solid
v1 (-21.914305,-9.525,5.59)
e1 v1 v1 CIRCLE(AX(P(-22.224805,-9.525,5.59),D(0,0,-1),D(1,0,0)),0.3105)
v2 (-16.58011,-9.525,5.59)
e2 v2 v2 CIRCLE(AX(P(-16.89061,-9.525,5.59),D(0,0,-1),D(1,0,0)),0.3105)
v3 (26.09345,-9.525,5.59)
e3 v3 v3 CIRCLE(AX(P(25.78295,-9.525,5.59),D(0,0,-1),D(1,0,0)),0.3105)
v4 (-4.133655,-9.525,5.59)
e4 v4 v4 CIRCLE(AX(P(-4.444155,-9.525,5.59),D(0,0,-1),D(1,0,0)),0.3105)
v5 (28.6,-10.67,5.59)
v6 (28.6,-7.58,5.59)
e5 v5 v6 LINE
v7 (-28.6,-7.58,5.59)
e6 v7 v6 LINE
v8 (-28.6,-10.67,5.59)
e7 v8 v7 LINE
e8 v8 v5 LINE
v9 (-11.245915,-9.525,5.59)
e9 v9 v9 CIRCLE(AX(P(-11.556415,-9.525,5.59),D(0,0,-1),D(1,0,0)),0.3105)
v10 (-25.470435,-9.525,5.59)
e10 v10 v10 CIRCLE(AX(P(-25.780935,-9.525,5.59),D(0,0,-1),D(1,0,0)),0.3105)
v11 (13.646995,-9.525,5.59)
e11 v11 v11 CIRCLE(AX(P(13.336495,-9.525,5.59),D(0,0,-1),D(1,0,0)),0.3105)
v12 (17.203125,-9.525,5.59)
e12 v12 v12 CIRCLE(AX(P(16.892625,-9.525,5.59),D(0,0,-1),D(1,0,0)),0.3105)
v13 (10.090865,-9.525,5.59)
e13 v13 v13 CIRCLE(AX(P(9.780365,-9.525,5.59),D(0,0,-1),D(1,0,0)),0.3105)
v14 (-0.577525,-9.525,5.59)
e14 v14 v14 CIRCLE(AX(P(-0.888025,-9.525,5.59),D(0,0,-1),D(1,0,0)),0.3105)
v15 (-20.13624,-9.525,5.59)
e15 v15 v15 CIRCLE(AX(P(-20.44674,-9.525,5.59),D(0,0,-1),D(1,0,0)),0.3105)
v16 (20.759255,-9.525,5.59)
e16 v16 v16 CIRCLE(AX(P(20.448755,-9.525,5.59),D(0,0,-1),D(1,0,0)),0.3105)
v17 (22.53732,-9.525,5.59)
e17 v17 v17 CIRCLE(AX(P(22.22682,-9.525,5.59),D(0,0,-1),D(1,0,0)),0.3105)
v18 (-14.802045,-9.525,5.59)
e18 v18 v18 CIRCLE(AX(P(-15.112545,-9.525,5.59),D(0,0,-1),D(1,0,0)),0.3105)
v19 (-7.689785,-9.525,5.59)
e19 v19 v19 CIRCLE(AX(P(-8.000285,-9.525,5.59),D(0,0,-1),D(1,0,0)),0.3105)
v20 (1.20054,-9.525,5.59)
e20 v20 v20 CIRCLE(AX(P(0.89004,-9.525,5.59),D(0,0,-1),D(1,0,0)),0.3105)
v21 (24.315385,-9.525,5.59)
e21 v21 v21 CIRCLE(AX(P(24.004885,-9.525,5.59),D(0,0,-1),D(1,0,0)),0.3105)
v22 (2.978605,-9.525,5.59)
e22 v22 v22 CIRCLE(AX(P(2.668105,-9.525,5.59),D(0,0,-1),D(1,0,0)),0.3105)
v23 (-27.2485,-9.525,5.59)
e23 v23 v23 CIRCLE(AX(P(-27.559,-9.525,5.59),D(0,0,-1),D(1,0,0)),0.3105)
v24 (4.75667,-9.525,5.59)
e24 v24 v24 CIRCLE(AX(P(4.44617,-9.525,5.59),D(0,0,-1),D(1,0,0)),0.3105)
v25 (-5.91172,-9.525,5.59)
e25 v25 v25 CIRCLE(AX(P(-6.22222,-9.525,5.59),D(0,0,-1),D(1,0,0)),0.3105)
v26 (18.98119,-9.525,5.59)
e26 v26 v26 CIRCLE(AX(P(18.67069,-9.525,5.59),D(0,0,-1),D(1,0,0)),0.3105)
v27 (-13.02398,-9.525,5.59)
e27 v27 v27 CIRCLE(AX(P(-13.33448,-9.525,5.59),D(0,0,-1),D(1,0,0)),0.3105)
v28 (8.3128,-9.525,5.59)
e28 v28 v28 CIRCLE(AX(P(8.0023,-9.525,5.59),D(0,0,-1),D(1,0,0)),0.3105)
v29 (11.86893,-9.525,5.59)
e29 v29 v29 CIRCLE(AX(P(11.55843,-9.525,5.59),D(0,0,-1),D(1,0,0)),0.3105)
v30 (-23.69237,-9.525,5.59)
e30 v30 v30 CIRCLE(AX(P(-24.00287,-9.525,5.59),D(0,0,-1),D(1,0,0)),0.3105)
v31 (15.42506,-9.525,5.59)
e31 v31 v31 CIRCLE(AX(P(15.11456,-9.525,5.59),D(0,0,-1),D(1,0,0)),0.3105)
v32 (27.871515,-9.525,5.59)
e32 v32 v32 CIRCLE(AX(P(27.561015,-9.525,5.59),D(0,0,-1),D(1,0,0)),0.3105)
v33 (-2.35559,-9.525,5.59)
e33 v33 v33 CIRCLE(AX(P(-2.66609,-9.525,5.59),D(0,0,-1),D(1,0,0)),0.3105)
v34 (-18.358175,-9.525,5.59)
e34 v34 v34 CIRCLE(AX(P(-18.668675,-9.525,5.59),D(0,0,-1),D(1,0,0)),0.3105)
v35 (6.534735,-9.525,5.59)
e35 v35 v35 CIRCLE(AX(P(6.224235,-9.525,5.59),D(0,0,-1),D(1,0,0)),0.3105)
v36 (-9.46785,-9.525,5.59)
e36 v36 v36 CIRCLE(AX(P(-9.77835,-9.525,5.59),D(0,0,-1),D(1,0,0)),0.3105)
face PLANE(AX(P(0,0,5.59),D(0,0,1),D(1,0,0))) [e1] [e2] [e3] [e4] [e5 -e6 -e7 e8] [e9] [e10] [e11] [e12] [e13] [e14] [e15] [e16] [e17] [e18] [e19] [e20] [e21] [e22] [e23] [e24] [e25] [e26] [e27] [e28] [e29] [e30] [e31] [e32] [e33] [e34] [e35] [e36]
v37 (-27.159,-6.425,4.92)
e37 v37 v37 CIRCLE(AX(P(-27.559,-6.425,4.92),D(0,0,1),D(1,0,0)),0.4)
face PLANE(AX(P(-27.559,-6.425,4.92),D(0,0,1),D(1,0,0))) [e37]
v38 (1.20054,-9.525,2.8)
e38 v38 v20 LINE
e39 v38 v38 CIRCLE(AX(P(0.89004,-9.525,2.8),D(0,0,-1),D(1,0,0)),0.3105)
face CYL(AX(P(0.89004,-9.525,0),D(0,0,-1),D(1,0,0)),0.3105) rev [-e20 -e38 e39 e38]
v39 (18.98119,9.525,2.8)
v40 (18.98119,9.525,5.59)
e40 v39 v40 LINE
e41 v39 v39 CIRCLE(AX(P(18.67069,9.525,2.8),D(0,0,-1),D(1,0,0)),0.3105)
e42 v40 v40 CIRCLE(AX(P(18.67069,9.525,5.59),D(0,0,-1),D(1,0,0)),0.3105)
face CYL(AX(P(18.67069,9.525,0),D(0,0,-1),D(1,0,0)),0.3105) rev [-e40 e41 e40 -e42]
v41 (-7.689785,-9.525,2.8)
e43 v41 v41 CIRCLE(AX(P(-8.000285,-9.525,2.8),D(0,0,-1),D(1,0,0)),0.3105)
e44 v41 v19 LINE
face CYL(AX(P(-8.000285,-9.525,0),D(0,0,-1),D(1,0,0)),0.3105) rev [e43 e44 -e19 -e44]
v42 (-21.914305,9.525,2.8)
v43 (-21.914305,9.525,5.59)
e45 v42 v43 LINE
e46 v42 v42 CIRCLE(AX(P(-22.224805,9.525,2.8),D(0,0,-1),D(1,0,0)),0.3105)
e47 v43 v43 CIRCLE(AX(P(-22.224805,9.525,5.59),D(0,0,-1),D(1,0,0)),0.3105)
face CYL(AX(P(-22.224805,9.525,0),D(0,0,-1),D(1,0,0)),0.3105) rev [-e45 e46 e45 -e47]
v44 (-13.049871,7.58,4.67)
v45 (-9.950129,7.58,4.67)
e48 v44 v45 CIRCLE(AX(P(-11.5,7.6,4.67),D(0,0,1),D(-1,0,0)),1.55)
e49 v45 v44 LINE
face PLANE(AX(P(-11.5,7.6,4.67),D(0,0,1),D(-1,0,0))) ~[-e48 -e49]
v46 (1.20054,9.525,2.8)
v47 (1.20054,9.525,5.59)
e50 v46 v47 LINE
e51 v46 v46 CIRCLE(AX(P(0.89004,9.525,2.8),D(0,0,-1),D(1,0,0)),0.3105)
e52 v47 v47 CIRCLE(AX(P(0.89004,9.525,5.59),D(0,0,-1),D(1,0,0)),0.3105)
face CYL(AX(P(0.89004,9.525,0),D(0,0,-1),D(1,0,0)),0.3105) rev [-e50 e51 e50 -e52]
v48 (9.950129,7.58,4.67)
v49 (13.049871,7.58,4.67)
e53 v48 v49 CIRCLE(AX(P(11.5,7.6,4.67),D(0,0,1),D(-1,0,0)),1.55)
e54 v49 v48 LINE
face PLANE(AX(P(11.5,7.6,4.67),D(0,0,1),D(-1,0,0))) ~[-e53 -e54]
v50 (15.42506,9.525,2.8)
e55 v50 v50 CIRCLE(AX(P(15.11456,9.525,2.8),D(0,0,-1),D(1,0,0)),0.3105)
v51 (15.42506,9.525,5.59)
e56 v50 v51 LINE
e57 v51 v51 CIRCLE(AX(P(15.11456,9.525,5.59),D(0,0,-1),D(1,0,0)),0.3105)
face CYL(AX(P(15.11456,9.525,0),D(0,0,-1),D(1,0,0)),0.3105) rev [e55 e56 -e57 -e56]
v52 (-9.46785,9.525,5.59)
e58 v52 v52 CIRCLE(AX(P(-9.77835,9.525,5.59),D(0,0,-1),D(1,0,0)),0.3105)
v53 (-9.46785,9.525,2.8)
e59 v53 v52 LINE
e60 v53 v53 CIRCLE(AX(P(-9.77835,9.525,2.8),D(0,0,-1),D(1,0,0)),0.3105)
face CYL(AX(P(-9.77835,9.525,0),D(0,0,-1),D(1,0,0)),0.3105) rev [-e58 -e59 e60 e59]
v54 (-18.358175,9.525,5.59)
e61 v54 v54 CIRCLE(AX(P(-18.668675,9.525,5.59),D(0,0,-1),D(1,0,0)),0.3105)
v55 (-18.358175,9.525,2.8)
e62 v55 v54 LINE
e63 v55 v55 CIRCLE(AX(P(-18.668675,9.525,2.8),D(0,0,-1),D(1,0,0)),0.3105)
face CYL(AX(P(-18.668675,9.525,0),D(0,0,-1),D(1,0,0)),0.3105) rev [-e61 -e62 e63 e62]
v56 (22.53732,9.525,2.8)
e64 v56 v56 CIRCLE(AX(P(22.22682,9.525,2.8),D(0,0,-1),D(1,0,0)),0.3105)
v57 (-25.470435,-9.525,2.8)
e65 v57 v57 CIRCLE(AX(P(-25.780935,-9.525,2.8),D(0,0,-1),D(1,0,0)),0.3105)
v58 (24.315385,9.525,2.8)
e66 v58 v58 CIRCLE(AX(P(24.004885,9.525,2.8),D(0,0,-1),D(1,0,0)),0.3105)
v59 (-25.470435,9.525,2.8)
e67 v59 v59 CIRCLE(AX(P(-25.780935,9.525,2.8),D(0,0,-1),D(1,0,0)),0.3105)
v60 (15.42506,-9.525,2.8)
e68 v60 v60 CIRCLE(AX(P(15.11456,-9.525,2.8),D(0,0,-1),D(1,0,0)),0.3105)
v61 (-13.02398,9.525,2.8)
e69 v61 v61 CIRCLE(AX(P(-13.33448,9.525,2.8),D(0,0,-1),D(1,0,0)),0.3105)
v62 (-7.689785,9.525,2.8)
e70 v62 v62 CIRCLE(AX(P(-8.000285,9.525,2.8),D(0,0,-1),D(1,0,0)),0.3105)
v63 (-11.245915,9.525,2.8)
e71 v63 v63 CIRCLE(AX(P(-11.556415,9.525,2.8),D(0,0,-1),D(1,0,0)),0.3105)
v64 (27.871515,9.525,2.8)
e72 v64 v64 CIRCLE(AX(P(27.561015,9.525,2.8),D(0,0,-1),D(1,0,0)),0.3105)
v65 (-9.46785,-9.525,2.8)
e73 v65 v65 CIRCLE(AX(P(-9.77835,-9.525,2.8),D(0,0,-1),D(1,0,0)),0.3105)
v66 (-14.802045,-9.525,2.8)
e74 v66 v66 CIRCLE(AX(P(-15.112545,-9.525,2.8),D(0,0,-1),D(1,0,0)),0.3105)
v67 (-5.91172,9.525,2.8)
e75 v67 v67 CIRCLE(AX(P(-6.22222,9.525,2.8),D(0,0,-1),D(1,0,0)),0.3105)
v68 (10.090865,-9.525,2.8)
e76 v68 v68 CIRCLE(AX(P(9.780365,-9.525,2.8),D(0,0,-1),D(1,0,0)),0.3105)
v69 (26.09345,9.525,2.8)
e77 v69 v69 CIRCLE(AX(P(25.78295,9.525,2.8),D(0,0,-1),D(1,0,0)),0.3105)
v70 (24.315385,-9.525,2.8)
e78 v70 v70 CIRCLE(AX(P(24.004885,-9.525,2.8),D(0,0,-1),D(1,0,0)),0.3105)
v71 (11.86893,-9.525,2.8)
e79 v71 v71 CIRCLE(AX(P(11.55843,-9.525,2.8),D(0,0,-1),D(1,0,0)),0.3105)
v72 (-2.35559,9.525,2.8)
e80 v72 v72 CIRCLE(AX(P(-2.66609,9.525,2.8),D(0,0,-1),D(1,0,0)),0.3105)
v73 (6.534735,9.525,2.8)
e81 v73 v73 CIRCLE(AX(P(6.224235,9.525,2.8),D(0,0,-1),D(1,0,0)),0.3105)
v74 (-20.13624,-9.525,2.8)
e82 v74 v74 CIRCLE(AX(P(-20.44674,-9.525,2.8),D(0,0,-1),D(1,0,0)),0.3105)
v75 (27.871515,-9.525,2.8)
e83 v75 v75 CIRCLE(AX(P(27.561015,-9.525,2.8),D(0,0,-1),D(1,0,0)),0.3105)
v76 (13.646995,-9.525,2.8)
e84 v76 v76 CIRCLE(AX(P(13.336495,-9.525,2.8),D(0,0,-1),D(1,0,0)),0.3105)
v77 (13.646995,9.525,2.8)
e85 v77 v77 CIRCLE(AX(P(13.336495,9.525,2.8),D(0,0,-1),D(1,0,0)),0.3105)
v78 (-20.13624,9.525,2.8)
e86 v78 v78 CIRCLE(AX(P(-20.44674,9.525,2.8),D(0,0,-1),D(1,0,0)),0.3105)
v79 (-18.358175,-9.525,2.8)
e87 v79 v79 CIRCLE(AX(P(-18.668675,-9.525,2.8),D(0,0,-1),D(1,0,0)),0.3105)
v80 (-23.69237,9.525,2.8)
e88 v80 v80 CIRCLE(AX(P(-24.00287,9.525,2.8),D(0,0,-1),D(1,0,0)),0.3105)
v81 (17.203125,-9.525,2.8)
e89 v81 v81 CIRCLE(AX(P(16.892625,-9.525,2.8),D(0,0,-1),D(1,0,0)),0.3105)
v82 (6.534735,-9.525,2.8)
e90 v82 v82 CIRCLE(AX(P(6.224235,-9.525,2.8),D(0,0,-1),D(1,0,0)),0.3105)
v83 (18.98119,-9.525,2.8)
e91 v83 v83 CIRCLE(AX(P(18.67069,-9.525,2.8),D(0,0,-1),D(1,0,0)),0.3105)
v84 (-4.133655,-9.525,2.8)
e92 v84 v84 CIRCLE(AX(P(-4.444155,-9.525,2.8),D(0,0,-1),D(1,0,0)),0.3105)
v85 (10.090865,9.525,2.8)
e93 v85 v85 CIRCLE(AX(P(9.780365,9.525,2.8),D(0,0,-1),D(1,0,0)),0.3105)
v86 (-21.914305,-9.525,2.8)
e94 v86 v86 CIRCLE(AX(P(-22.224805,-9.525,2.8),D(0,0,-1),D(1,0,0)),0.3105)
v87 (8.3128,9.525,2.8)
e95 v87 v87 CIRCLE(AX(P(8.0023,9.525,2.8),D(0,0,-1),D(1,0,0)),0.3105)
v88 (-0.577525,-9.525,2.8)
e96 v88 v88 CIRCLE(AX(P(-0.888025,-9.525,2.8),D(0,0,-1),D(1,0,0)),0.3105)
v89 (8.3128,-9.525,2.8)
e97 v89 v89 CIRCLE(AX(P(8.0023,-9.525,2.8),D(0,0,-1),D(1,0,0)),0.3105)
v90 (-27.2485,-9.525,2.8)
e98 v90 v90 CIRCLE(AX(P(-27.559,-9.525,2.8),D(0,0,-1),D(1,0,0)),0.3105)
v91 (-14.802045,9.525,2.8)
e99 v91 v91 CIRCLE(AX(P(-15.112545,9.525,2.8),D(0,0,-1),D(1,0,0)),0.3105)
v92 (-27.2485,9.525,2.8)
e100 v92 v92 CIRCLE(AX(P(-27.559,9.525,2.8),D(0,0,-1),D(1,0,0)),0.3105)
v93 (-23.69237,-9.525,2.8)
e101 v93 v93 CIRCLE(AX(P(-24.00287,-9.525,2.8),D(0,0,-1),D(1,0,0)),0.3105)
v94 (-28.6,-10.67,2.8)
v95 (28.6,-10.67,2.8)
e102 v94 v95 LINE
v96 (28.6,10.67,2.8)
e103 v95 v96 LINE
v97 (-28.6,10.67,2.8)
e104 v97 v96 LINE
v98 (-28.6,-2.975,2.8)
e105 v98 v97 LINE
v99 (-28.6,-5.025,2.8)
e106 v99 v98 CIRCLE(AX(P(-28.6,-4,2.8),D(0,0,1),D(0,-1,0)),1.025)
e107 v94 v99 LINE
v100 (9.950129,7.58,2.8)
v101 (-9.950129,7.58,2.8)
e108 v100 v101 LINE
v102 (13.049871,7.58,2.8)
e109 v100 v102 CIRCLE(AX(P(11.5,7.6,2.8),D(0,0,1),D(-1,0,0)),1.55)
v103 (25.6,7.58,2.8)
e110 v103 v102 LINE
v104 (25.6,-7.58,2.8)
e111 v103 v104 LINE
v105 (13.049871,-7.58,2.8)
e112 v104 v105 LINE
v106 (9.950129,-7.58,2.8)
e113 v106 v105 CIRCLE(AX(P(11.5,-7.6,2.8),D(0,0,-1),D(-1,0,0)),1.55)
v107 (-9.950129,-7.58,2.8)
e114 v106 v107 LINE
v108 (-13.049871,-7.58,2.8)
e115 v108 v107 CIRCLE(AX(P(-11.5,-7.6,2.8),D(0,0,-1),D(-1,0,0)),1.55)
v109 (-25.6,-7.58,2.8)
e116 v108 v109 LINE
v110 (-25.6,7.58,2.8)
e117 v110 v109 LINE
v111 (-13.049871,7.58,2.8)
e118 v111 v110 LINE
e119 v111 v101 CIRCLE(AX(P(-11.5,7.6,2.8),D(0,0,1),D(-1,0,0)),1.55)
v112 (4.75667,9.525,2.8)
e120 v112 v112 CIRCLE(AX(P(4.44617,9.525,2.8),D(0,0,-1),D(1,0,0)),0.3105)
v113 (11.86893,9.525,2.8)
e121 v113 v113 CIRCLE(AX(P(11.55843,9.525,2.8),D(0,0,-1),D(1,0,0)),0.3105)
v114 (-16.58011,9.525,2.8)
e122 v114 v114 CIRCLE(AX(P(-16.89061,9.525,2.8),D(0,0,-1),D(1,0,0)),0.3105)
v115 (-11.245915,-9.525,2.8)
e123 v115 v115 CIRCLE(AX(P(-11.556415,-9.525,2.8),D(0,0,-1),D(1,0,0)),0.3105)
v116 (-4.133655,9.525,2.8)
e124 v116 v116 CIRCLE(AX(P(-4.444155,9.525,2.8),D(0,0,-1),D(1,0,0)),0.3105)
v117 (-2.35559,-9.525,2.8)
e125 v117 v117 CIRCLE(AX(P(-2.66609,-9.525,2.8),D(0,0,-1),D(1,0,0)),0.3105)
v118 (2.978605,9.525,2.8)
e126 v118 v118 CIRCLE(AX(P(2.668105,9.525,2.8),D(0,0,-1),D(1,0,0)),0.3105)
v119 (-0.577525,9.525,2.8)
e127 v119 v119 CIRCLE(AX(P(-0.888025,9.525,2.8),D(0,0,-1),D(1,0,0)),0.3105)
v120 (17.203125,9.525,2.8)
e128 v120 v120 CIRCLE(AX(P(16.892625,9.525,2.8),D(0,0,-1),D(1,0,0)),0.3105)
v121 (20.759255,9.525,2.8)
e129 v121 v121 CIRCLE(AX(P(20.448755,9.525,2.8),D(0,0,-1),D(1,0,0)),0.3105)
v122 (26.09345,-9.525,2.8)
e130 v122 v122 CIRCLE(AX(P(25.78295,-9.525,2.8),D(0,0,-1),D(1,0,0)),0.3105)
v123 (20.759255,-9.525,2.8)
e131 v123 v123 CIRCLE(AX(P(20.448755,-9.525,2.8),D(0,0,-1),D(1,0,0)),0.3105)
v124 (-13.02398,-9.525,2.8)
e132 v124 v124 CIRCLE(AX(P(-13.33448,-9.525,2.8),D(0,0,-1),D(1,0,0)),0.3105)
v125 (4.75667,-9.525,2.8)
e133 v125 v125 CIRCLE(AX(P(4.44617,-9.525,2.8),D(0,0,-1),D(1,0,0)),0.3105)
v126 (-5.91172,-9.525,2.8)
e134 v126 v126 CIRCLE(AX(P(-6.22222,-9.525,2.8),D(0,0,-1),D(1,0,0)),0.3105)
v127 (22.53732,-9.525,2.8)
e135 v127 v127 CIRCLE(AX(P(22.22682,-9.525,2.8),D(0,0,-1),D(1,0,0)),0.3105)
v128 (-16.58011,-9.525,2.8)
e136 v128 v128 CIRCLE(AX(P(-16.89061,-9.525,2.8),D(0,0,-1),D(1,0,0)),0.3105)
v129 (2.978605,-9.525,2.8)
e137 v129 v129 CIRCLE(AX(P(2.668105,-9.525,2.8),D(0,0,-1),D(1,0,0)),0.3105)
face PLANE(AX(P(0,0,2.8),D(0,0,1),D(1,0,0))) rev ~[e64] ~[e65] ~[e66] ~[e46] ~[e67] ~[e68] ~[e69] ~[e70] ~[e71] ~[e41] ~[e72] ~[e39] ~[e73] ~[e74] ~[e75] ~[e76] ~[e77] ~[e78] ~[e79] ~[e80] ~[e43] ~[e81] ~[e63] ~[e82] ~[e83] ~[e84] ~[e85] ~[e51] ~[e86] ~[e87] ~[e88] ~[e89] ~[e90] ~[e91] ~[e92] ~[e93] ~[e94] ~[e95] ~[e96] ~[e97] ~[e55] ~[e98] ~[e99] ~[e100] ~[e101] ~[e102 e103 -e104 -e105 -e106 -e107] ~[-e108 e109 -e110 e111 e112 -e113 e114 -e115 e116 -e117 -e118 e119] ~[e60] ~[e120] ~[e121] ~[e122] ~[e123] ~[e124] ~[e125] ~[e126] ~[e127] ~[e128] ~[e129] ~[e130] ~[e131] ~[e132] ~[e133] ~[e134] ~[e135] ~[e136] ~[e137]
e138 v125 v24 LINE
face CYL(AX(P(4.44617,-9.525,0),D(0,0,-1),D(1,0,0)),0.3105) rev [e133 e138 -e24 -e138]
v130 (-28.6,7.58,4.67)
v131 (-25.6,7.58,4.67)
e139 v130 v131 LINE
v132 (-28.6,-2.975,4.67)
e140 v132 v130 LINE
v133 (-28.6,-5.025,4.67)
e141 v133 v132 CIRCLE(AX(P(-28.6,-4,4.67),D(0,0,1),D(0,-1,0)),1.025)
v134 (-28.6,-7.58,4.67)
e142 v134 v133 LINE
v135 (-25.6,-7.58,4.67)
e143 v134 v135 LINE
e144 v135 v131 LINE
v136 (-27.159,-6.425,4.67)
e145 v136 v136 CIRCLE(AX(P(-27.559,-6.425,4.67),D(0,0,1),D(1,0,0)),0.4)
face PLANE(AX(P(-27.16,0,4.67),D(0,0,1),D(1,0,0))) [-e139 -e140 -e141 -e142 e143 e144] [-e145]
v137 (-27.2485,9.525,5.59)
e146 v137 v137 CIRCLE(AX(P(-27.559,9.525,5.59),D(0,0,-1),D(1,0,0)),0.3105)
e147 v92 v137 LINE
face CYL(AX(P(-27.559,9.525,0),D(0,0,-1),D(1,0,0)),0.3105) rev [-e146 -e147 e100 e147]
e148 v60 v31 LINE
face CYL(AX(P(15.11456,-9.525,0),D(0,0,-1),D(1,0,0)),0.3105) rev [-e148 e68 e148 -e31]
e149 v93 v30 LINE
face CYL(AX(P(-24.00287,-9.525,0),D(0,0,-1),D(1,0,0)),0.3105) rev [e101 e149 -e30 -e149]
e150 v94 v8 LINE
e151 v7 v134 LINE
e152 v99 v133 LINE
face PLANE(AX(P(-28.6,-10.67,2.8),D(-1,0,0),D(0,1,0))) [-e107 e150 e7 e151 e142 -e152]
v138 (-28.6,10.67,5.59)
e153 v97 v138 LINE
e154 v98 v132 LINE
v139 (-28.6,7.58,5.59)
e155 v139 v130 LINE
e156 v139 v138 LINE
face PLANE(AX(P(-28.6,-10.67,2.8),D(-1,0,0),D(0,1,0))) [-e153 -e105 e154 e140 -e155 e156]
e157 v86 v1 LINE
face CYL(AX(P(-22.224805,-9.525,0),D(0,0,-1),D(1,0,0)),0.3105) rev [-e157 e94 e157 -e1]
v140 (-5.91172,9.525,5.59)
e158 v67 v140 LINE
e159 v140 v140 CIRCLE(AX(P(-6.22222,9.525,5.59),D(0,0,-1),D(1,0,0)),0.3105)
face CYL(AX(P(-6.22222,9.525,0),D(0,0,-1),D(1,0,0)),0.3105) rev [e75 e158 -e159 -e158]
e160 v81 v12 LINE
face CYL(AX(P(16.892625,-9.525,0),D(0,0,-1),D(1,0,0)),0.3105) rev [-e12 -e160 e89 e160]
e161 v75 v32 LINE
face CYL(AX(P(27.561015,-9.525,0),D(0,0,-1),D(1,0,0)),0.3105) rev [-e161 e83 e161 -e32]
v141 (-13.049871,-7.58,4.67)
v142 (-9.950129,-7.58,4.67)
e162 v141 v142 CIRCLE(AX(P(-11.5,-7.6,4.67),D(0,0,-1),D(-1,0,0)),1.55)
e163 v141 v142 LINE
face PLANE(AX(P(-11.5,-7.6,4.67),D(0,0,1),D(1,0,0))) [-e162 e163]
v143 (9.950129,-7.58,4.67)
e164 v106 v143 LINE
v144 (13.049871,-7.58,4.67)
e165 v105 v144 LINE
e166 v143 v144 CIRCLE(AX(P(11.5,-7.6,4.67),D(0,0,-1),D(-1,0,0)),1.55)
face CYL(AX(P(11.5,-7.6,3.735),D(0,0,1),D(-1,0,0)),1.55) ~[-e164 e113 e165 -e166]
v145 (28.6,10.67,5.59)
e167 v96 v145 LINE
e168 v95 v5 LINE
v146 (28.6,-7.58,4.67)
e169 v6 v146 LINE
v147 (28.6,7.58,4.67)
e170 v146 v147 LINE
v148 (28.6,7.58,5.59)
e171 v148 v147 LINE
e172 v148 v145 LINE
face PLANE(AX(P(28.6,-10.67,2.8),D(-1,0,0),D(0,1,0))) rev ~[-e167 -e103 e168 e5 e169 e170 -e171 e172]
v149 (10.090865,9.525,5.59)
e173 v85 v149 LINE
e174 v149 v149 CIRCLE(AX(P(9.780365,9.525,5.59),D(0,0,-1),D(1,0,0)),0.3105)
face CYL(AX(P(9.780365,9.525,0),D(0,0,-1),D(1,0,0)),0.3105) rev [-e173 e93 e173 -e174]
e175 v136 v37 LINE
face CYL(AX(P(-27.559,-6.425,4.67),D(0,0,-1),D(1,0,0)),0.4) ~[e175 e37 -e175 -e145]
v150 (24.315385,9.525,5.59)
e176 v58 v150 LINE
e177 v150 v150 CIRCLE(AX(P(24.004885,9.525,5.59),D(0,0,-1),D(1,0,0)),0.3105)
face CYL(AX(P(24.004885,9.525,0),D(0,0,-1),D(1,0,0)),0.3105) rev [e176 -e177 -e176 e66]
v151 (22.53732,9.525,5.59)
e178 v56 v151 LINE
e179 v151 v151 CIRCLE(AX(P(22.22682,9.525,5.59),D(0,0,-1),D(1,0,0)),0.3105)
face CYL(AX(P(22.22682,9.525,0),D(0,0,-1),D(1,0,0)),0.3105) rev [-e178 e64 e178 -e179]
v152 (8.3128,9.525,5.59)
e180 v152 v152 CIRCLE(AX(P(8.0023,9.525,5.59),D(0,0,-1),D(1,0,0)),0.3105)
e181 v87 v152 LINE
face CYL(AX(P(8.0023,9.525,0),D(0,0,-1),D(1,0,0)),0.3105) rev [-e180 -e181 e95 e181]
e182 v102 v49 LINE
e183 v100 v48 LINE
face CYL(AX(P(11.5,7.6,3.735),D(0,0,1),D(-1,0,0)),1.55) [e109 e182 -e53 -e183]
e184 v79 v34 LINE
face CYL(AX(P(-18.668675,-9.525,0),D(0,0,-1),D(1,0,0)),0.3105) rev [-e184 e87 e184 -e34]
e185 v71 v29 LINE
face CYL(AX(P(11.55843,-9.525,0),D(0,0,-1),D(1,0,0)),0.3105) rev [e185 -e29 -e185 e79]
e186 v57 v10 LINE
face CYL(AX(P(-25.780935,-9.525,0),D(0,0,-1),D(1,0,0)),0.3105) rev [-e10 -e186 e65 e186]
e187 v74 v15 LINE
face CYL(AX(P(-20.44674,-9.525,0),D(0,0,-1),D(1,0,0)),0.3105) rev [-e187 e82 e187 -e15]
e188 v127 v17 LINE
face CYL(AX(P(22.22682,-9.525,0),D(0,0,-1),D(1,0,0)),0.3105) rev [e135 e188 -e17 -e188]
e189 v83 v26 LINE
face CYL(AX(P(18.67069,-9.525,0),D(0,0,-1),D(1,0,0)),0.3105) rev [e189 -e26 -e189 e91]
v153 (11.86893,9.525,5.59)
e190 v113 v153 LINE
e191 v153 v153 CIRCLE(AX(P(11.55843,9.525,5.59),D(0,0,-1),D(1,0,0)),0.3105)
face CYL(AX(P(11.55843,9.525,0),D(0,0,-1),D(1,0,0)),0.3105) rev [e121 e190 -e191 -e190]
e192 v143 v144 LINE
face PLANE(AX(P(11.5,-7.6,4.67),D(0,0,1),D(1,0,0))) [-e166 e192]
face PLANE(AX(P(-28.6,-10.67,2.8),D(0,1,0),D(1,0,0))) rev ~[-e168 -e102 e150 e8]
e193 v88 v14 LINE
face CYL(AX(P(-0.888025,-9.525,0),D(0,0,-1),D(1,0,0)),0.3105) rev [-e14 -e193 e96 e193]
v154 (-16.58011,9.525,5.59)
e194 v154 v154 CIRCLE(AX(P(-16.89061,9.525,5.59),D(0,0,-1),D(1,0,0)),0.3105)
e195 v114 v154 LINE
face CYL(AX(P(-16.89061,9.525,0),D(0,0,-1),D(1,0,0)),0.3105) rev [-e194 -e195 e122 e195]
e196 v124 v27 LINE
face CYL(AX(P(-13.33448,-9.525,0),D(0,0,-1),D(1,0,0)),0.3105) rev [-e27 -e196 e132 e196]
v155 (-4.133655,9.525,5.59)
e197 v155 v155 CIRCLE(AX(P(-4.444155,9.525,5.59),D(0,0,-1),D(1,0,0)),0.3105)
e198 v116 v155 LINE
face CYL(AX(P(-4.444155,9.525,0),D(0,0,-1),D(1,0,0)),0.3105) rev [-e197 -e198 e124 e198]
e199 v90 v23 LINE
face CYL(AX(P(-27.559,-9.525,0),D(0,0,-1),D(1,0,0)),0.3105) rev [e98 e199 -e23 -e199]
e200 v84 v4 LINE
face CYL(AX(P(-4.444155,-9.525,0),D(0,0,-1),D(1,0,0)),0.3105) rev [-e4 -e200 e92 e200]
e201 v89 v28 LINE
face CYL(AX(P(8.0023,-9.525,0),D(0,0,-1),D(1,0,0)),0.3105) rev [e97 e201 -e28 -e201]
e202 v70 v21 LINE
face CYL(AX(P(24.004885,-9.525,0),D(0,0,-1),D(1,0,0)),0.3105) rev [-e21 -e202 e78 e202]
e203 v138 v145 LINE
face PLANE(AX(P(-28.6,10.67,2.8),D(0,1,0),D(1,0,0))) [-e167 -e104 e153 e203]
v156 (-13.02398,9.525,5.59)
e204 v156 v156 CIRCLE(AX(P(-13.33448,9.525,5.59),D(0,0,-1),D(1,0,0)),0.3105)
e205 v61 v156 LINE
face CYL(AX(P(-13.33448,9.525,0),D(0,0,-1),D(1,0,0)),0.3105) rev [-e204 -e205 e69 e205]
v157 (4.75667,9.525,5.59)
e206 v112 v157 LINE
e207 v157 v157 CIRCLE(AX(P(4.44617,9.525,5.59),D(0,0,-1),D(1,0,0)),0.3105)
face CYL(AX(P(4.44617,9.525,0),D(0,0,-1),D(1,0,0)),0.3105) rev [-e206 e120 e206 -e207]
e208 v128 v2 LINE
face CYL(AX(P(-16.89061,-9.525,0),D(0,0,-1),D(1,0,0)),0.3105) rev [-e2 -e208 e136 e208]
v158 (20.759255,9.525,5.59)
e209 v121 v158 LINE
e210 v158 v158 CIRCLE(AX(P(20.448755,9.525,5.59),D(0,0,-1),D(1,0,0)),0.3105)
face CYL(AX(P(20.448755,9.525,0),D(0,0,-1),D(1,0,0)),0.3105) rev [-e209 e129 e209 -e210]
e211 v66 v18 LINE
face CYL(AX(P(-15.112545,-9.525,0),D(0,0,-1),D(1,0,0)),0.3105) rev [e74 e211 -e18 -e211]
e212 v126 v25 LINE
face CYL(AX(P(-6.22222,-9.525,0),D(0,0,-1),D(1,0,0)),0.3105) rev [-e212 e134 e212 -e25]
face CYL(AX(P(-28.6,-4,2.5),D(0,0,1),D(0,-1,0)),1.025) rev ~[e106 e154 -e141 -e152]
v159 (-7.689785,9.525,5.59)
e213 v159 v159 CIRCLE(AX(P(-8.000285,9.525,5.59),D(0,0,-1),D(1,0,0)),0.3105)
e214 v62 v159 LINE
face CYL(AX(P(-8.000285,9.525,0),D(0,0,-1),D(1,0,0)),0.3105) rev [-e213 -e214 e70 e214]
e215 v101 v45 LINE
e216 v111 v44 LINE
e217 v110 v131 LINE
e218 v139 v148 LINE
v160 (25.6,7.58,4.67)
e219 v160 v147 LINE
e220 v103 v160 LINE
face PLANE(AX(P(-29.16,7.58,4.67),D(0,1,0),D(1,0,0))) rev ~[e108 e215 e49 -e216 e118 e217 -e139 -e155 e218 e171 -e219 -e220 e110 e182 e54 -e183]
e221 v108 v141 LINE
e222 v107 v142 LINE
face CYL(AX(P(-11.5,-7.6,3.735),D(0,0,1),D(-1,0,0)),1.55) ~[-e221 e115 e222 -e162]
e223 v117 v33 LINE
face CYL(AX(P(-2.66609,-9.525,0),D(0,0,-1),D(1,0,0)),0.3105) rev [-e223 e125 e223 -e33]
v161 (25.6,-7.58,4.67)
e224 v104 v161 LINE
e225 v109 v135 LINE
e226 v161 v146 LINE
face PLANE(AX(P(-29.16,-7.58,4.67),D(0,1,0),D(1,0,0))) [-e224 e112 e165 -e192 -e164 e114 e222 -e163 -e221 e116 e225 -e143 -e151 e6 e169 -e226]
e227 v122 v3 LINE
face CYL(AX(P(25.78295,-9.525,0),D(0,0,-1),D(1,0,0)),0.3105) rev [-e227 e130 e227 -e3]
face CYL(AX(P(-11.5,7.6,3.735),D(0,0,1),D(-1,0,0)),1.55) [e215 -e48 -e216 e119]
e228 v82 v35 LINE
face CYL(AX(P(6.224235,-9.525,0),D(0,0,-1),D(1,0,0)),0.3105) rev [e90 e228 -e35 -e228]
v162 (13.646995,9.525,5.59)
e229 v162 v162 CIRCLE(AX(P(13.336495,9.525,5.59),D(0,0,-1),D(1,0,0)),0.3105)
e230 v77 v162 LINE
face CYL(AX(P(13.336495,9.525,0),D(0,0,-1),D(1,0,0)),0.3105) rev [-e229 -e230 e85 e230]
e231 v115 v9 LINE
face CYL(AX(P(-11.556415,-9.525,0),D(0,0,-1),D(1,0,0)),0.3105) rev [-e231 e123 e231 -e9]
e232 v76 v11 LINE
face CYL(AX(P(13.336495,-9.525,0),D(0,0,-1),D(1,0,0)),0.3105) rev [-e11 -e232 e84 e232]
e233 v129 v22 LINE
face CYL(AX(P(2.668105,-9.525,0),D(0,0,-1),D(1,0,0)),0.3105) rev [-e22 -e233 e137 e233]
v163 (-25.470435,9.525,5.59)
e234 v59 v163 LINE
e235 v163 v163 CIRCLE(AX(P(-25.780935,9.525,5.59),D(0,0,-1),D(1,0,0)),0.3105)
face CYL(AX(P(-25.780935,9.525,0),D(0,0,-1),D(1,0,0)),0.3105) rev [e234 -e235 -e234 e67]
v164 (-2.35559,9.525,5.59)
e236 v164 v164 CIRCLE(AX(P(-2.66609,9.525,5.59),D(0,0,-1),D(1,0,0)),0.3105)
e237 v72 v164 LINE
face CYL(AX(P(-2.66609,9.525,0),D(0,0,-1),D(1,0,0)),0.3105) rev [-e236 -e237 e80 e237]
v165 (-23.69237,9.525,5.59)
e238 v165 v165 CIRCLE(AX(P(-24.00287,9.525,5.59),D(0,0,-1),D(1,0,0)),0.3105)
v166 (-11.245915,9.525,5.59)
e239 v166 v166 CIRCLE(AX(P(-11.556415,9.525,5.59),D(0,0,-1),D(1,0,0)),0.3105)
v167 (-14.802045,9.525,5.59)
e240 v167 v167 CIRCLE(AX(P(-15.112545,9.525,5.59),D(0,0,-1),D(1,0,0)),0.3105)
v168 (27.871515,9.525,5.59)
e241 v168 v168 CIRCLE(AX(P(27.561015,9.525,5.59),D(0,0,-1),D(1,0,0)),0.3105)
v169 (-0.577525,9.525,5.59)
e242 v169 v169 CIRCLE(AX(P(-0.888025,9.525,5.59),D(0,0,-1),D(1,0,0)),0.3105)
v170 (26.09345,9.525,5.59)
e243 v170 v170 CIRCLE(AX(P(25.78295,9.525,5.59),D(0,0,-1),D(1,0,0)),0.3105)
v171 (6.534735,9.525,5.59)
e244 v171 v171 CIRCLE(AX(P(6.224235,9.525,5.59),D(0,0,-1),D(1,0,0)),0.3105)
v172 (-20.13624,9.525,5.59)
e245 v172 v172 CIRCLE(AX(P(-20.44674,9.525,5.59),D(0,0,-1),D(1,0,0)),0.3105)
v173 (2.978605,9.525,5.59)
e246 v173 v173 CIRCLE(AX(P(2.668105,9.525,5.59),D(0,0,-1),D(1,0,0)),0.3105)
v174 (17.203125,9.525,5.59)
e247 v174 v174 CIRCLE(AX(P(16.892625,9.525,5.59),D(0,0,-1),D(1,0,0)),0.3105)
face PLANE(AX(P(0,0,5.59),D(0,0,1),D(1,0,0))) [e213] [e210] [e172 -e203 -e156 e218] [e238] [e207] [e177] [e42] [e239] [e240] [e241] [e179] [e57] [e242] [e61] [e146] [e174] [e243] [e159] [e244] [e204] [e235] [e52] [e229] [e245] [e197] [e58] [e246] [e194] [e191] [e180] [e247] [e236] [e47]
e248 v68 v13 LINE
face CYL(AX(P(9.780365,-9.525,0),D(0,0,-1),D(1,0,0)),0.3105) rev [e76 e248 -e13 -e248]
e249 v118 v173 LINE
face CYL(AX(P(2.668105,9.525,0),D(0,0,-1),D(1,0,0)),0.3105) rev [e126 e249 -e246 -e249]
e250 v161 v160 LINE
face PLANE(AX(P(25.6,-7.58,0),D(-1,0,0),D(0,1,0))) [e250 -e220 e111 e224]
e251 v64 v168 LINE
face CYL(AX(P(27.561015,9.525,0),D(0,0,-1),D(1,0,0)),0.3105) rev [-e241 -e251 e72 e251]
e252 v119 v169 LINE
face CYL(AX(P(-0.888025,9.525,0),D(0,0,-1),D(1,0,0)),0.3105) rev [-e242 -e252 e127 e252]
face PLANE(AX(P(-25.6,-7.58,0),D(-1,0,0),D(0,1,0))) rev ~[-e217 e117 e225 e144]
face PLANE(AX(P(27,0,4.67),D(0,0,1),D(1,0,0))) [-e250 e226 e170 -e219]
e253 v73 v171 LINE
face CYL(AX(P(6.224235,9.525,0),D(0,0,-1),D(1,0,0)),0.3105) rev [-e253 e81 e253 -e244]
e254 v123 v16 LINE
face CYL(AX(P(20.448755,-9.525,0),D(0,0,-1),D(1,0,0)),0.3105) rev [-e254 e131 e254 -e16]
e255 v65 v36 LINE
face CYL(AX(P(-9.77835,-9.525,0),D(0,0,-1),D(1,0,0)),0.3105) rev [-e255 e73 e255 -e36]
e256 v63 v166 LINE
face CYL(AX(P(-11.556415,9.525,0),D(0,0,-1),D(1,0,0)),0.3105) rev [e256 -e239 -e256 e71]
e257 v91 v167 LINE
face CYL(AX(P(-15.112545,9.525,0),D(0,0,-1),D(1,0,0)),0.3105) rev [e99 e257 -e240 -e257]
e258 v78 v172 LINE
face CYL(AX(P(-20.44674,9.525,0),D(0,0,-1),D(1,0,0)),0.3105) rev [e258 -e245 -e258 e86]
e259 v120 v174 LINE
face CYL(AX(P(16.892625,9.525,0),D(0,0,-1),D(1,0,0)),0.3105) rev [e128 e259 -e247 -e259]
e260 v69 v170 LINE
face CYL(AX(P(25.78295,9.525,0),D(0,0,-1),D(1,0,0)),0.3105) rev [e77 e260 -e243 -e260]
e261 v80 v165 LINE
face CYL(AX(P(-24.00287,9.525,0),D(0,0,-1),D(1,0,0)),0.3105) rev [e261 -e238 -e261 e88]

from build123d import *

# Parameters (mm, degrees)
BOX_W                                = 57.2
BOX_H                                = 21.34
BOX_DEPTH                            = 2.79
BOX001_W                             = 51.2
BOX001_H                             = 15.16
BOX001_DEPTH                         = 10
BOX002_W                             = 4
BOX002_H                             = 15.16
BOX002_DEPTH                         = 0.92
BOX003_W                             = 4
BOX003_H                             = 15.16
BOX003_DEPTH                         = 0.92
CYLINDER_W                           = 1.025
CYLINDER_H                           = 5
CYLINDER_ANGLE                       = 180
CYLINDER001_R                        = 0.4
CYLINDER001_DEPTH                    = 0.25
CYLINDER002_R                        = 0.3105
CYLINDER002_DEPTH                    = 10
LINEARPATTERN_COUNT                  = 32
LINEARPATTERN_PITCH                  = 1.778065
CYLINDER003_R                        = 0.3105
CYLINDER003_DEPTH                    = 10
LINEARPATTERN001_COUNT               = 32
LINEARPATTERN001_PITCH               = 1.778065
CYLINDER008_W                        = 1.55
CYLINDER008_H                        = 1.87
CYLINDER008_ANGLE                    = 180
CYLINDER008_LINEARPATTERN002_2_W     = 1.55
CYLINDER008_LINEARPATTERN002_2_H     = 1.87
CYLINDER008_LINEARPATTERN002_2_ANGLE = 180


with BuildPart() as part:
    # Box → Box (join)
    with BuildSketch(Plane(origin=(-28.6, -10.67, 2.8), x_dir=(1, 0, 0), z_dir=(0, 0, 1))):
        with Locations((28.6, 10.67)):
            Rectangle(BOX_W, BOX_H)
    extrude(amount=BOX_DEPTH)

    # Box001 → Box001 (cut)
    with BuildSketch(Plane(origin=(-25.6, -7.58, 0), x_dir=(1, 0, 0), z_dir=(0, 0, 1))):
        with Locations((25.6, 7.58)):
            Rectangle(BOX001_W, BOX001_H)
    extrude(amount=BOX001_DEPTH, mode=Mode.SUBTRACT)

    # Box002 → Box002 (cut)
    with BuildSketch(Plane(origin=(-29.16, -7.58, 4.67), x_dir=(1, 0, 0), z_dir=(0, 0, 1))):
        with Locations((2, 7.58)):
            Rectangle(BOX002_W, BOX002_H)
    extrude(amount=BOX002_DEPTH, mode=Mode.SUBTRACT)

    # Box003 → Box003 (cut)
    with BuildSketch(Plane(origin=(25, -7.58, 4.67), x_dir=(1, 0, 0), z_dir=(0, 0, 1))):
        with Locations((2, 7.58)):
            Rectangle(BOX003_W, BOX003_H)
    extrude(amount=BOX003_DEPTH, mode=Mode.SUBTRACT)

    # Cylinder → Cylinder (revolve, cut)
    with BuildSketch(Plane(origin=(-28.6, -4, 0), x_dir=(0, -1, 0), z_dir=(-1, 0, 0))):
        with Locations((0.5125, 2.5)):
            Rectangle(CYLINDER_W, CYLINDER_H)
    revolve(axis=Axis((-28.6, -4, 0), (0, 0, 1)), revolution_arc=CYLINDER_ANGLE, mode=Mode.SUBTRACT)

    # Cylinder001 → Cylinder001 (join)
    with BuildSketch(Plane(origin=(-27.559, -6.425, 4.67), x_dir=(1, 0, 0), z_dir=(0, 0, 1))):
        Circle(CYLINDER001_R)
    extrude(amount=CYLINDER001_DEPTH)

    # Cylinder002 → Cylinder002 (cut)
    with BuildSketch(Plane(origin=(-27.559, -9.525, 0), x_dir=(1, 0, 0), z_dir=(0, 0, 1))):
        Circle(CYLINDER002_R)
    cylinder002 = extrude(amount=CYLINDER002_DEPTH, mode=Mode.SUBTRACT)

    # LinearPattern: Cylinder002 ×32
    with Locations(*[(i * LINEARPATTERN_PITCH, 0, 0) for i in range(1, LINEARPATTERN_COUNT)]):
        add(cylinder002, mode=Mode.SUBTRACT)

    # Cylinder003 → Cylinder003 (cut)
    with BuildSketch(Plane(origin=(-27.559, 9.525, 0), x_dir=(1, 0, 0), z_dir=(0, 0, 1))):
        Circle(CYLINDER003_R)
    cylinder003 = extrude(amount=CYLINDER003_DEPTH, mode=Mode.SUBTRACT)

    # LinearPattern001: Cylinder003 ×32
    with Locations(*[(i * LINEARPATTERN001_PITCH, 0, 0) for i in range(1, LINEARPATTERN001_COUNT)]):
        add(cylinder003, mode=Mode.SUBTRACT)

    # Cylinder008 → Cylinder008 (revolve)
    with BuildSketch(Plane(origin=(-11.5, 7.6, 2.8), x_dir=(-1, 0, 0), z_dir=(0, 1, 0))):
        with Locations((0.775, 0.935)):
            Rectangle(CYLINDER008_W, CYLINDER008_H)
    cylinder008 = revolve(axis=Axis((-11.5, 7.6, 2.8), (0, 0, 1)), revolution_arc=CYLINDER008_ANGLE)

    # Cylinder008 LinearPattern002 2 → Cylinder008 LinearPattern002 2 (revolve)
    with BuildSketch(Plane(origin=(11.5, 7.6, 2.8), x_dir=(-1, 0, 0), z_dir=(0, 1, 0))):
        with Locations((0.775, 0.935)):
            Rectangle(CYLINDER008_LINEARPATTERN002_2_W, CYLINDER008_LINEARPATTERN002_2_H)
    cylinder008_linearpattern002_2 = revolve(axis=Axis((11.5, 7.6, 2.8), (0, 0, 1)), revolution_arc=CYLINDER008_LINEARPATTERN002_2_ANGLE)

    # Mirrored: Cylinder008, Cylinder008 LinearPattern002 2 across XZ
    add(cylinder008.mirror(Plane.XZ))
    add(cylinder008_linearpattern002_2.mirror(Plane.XZ))


solid = part.part
